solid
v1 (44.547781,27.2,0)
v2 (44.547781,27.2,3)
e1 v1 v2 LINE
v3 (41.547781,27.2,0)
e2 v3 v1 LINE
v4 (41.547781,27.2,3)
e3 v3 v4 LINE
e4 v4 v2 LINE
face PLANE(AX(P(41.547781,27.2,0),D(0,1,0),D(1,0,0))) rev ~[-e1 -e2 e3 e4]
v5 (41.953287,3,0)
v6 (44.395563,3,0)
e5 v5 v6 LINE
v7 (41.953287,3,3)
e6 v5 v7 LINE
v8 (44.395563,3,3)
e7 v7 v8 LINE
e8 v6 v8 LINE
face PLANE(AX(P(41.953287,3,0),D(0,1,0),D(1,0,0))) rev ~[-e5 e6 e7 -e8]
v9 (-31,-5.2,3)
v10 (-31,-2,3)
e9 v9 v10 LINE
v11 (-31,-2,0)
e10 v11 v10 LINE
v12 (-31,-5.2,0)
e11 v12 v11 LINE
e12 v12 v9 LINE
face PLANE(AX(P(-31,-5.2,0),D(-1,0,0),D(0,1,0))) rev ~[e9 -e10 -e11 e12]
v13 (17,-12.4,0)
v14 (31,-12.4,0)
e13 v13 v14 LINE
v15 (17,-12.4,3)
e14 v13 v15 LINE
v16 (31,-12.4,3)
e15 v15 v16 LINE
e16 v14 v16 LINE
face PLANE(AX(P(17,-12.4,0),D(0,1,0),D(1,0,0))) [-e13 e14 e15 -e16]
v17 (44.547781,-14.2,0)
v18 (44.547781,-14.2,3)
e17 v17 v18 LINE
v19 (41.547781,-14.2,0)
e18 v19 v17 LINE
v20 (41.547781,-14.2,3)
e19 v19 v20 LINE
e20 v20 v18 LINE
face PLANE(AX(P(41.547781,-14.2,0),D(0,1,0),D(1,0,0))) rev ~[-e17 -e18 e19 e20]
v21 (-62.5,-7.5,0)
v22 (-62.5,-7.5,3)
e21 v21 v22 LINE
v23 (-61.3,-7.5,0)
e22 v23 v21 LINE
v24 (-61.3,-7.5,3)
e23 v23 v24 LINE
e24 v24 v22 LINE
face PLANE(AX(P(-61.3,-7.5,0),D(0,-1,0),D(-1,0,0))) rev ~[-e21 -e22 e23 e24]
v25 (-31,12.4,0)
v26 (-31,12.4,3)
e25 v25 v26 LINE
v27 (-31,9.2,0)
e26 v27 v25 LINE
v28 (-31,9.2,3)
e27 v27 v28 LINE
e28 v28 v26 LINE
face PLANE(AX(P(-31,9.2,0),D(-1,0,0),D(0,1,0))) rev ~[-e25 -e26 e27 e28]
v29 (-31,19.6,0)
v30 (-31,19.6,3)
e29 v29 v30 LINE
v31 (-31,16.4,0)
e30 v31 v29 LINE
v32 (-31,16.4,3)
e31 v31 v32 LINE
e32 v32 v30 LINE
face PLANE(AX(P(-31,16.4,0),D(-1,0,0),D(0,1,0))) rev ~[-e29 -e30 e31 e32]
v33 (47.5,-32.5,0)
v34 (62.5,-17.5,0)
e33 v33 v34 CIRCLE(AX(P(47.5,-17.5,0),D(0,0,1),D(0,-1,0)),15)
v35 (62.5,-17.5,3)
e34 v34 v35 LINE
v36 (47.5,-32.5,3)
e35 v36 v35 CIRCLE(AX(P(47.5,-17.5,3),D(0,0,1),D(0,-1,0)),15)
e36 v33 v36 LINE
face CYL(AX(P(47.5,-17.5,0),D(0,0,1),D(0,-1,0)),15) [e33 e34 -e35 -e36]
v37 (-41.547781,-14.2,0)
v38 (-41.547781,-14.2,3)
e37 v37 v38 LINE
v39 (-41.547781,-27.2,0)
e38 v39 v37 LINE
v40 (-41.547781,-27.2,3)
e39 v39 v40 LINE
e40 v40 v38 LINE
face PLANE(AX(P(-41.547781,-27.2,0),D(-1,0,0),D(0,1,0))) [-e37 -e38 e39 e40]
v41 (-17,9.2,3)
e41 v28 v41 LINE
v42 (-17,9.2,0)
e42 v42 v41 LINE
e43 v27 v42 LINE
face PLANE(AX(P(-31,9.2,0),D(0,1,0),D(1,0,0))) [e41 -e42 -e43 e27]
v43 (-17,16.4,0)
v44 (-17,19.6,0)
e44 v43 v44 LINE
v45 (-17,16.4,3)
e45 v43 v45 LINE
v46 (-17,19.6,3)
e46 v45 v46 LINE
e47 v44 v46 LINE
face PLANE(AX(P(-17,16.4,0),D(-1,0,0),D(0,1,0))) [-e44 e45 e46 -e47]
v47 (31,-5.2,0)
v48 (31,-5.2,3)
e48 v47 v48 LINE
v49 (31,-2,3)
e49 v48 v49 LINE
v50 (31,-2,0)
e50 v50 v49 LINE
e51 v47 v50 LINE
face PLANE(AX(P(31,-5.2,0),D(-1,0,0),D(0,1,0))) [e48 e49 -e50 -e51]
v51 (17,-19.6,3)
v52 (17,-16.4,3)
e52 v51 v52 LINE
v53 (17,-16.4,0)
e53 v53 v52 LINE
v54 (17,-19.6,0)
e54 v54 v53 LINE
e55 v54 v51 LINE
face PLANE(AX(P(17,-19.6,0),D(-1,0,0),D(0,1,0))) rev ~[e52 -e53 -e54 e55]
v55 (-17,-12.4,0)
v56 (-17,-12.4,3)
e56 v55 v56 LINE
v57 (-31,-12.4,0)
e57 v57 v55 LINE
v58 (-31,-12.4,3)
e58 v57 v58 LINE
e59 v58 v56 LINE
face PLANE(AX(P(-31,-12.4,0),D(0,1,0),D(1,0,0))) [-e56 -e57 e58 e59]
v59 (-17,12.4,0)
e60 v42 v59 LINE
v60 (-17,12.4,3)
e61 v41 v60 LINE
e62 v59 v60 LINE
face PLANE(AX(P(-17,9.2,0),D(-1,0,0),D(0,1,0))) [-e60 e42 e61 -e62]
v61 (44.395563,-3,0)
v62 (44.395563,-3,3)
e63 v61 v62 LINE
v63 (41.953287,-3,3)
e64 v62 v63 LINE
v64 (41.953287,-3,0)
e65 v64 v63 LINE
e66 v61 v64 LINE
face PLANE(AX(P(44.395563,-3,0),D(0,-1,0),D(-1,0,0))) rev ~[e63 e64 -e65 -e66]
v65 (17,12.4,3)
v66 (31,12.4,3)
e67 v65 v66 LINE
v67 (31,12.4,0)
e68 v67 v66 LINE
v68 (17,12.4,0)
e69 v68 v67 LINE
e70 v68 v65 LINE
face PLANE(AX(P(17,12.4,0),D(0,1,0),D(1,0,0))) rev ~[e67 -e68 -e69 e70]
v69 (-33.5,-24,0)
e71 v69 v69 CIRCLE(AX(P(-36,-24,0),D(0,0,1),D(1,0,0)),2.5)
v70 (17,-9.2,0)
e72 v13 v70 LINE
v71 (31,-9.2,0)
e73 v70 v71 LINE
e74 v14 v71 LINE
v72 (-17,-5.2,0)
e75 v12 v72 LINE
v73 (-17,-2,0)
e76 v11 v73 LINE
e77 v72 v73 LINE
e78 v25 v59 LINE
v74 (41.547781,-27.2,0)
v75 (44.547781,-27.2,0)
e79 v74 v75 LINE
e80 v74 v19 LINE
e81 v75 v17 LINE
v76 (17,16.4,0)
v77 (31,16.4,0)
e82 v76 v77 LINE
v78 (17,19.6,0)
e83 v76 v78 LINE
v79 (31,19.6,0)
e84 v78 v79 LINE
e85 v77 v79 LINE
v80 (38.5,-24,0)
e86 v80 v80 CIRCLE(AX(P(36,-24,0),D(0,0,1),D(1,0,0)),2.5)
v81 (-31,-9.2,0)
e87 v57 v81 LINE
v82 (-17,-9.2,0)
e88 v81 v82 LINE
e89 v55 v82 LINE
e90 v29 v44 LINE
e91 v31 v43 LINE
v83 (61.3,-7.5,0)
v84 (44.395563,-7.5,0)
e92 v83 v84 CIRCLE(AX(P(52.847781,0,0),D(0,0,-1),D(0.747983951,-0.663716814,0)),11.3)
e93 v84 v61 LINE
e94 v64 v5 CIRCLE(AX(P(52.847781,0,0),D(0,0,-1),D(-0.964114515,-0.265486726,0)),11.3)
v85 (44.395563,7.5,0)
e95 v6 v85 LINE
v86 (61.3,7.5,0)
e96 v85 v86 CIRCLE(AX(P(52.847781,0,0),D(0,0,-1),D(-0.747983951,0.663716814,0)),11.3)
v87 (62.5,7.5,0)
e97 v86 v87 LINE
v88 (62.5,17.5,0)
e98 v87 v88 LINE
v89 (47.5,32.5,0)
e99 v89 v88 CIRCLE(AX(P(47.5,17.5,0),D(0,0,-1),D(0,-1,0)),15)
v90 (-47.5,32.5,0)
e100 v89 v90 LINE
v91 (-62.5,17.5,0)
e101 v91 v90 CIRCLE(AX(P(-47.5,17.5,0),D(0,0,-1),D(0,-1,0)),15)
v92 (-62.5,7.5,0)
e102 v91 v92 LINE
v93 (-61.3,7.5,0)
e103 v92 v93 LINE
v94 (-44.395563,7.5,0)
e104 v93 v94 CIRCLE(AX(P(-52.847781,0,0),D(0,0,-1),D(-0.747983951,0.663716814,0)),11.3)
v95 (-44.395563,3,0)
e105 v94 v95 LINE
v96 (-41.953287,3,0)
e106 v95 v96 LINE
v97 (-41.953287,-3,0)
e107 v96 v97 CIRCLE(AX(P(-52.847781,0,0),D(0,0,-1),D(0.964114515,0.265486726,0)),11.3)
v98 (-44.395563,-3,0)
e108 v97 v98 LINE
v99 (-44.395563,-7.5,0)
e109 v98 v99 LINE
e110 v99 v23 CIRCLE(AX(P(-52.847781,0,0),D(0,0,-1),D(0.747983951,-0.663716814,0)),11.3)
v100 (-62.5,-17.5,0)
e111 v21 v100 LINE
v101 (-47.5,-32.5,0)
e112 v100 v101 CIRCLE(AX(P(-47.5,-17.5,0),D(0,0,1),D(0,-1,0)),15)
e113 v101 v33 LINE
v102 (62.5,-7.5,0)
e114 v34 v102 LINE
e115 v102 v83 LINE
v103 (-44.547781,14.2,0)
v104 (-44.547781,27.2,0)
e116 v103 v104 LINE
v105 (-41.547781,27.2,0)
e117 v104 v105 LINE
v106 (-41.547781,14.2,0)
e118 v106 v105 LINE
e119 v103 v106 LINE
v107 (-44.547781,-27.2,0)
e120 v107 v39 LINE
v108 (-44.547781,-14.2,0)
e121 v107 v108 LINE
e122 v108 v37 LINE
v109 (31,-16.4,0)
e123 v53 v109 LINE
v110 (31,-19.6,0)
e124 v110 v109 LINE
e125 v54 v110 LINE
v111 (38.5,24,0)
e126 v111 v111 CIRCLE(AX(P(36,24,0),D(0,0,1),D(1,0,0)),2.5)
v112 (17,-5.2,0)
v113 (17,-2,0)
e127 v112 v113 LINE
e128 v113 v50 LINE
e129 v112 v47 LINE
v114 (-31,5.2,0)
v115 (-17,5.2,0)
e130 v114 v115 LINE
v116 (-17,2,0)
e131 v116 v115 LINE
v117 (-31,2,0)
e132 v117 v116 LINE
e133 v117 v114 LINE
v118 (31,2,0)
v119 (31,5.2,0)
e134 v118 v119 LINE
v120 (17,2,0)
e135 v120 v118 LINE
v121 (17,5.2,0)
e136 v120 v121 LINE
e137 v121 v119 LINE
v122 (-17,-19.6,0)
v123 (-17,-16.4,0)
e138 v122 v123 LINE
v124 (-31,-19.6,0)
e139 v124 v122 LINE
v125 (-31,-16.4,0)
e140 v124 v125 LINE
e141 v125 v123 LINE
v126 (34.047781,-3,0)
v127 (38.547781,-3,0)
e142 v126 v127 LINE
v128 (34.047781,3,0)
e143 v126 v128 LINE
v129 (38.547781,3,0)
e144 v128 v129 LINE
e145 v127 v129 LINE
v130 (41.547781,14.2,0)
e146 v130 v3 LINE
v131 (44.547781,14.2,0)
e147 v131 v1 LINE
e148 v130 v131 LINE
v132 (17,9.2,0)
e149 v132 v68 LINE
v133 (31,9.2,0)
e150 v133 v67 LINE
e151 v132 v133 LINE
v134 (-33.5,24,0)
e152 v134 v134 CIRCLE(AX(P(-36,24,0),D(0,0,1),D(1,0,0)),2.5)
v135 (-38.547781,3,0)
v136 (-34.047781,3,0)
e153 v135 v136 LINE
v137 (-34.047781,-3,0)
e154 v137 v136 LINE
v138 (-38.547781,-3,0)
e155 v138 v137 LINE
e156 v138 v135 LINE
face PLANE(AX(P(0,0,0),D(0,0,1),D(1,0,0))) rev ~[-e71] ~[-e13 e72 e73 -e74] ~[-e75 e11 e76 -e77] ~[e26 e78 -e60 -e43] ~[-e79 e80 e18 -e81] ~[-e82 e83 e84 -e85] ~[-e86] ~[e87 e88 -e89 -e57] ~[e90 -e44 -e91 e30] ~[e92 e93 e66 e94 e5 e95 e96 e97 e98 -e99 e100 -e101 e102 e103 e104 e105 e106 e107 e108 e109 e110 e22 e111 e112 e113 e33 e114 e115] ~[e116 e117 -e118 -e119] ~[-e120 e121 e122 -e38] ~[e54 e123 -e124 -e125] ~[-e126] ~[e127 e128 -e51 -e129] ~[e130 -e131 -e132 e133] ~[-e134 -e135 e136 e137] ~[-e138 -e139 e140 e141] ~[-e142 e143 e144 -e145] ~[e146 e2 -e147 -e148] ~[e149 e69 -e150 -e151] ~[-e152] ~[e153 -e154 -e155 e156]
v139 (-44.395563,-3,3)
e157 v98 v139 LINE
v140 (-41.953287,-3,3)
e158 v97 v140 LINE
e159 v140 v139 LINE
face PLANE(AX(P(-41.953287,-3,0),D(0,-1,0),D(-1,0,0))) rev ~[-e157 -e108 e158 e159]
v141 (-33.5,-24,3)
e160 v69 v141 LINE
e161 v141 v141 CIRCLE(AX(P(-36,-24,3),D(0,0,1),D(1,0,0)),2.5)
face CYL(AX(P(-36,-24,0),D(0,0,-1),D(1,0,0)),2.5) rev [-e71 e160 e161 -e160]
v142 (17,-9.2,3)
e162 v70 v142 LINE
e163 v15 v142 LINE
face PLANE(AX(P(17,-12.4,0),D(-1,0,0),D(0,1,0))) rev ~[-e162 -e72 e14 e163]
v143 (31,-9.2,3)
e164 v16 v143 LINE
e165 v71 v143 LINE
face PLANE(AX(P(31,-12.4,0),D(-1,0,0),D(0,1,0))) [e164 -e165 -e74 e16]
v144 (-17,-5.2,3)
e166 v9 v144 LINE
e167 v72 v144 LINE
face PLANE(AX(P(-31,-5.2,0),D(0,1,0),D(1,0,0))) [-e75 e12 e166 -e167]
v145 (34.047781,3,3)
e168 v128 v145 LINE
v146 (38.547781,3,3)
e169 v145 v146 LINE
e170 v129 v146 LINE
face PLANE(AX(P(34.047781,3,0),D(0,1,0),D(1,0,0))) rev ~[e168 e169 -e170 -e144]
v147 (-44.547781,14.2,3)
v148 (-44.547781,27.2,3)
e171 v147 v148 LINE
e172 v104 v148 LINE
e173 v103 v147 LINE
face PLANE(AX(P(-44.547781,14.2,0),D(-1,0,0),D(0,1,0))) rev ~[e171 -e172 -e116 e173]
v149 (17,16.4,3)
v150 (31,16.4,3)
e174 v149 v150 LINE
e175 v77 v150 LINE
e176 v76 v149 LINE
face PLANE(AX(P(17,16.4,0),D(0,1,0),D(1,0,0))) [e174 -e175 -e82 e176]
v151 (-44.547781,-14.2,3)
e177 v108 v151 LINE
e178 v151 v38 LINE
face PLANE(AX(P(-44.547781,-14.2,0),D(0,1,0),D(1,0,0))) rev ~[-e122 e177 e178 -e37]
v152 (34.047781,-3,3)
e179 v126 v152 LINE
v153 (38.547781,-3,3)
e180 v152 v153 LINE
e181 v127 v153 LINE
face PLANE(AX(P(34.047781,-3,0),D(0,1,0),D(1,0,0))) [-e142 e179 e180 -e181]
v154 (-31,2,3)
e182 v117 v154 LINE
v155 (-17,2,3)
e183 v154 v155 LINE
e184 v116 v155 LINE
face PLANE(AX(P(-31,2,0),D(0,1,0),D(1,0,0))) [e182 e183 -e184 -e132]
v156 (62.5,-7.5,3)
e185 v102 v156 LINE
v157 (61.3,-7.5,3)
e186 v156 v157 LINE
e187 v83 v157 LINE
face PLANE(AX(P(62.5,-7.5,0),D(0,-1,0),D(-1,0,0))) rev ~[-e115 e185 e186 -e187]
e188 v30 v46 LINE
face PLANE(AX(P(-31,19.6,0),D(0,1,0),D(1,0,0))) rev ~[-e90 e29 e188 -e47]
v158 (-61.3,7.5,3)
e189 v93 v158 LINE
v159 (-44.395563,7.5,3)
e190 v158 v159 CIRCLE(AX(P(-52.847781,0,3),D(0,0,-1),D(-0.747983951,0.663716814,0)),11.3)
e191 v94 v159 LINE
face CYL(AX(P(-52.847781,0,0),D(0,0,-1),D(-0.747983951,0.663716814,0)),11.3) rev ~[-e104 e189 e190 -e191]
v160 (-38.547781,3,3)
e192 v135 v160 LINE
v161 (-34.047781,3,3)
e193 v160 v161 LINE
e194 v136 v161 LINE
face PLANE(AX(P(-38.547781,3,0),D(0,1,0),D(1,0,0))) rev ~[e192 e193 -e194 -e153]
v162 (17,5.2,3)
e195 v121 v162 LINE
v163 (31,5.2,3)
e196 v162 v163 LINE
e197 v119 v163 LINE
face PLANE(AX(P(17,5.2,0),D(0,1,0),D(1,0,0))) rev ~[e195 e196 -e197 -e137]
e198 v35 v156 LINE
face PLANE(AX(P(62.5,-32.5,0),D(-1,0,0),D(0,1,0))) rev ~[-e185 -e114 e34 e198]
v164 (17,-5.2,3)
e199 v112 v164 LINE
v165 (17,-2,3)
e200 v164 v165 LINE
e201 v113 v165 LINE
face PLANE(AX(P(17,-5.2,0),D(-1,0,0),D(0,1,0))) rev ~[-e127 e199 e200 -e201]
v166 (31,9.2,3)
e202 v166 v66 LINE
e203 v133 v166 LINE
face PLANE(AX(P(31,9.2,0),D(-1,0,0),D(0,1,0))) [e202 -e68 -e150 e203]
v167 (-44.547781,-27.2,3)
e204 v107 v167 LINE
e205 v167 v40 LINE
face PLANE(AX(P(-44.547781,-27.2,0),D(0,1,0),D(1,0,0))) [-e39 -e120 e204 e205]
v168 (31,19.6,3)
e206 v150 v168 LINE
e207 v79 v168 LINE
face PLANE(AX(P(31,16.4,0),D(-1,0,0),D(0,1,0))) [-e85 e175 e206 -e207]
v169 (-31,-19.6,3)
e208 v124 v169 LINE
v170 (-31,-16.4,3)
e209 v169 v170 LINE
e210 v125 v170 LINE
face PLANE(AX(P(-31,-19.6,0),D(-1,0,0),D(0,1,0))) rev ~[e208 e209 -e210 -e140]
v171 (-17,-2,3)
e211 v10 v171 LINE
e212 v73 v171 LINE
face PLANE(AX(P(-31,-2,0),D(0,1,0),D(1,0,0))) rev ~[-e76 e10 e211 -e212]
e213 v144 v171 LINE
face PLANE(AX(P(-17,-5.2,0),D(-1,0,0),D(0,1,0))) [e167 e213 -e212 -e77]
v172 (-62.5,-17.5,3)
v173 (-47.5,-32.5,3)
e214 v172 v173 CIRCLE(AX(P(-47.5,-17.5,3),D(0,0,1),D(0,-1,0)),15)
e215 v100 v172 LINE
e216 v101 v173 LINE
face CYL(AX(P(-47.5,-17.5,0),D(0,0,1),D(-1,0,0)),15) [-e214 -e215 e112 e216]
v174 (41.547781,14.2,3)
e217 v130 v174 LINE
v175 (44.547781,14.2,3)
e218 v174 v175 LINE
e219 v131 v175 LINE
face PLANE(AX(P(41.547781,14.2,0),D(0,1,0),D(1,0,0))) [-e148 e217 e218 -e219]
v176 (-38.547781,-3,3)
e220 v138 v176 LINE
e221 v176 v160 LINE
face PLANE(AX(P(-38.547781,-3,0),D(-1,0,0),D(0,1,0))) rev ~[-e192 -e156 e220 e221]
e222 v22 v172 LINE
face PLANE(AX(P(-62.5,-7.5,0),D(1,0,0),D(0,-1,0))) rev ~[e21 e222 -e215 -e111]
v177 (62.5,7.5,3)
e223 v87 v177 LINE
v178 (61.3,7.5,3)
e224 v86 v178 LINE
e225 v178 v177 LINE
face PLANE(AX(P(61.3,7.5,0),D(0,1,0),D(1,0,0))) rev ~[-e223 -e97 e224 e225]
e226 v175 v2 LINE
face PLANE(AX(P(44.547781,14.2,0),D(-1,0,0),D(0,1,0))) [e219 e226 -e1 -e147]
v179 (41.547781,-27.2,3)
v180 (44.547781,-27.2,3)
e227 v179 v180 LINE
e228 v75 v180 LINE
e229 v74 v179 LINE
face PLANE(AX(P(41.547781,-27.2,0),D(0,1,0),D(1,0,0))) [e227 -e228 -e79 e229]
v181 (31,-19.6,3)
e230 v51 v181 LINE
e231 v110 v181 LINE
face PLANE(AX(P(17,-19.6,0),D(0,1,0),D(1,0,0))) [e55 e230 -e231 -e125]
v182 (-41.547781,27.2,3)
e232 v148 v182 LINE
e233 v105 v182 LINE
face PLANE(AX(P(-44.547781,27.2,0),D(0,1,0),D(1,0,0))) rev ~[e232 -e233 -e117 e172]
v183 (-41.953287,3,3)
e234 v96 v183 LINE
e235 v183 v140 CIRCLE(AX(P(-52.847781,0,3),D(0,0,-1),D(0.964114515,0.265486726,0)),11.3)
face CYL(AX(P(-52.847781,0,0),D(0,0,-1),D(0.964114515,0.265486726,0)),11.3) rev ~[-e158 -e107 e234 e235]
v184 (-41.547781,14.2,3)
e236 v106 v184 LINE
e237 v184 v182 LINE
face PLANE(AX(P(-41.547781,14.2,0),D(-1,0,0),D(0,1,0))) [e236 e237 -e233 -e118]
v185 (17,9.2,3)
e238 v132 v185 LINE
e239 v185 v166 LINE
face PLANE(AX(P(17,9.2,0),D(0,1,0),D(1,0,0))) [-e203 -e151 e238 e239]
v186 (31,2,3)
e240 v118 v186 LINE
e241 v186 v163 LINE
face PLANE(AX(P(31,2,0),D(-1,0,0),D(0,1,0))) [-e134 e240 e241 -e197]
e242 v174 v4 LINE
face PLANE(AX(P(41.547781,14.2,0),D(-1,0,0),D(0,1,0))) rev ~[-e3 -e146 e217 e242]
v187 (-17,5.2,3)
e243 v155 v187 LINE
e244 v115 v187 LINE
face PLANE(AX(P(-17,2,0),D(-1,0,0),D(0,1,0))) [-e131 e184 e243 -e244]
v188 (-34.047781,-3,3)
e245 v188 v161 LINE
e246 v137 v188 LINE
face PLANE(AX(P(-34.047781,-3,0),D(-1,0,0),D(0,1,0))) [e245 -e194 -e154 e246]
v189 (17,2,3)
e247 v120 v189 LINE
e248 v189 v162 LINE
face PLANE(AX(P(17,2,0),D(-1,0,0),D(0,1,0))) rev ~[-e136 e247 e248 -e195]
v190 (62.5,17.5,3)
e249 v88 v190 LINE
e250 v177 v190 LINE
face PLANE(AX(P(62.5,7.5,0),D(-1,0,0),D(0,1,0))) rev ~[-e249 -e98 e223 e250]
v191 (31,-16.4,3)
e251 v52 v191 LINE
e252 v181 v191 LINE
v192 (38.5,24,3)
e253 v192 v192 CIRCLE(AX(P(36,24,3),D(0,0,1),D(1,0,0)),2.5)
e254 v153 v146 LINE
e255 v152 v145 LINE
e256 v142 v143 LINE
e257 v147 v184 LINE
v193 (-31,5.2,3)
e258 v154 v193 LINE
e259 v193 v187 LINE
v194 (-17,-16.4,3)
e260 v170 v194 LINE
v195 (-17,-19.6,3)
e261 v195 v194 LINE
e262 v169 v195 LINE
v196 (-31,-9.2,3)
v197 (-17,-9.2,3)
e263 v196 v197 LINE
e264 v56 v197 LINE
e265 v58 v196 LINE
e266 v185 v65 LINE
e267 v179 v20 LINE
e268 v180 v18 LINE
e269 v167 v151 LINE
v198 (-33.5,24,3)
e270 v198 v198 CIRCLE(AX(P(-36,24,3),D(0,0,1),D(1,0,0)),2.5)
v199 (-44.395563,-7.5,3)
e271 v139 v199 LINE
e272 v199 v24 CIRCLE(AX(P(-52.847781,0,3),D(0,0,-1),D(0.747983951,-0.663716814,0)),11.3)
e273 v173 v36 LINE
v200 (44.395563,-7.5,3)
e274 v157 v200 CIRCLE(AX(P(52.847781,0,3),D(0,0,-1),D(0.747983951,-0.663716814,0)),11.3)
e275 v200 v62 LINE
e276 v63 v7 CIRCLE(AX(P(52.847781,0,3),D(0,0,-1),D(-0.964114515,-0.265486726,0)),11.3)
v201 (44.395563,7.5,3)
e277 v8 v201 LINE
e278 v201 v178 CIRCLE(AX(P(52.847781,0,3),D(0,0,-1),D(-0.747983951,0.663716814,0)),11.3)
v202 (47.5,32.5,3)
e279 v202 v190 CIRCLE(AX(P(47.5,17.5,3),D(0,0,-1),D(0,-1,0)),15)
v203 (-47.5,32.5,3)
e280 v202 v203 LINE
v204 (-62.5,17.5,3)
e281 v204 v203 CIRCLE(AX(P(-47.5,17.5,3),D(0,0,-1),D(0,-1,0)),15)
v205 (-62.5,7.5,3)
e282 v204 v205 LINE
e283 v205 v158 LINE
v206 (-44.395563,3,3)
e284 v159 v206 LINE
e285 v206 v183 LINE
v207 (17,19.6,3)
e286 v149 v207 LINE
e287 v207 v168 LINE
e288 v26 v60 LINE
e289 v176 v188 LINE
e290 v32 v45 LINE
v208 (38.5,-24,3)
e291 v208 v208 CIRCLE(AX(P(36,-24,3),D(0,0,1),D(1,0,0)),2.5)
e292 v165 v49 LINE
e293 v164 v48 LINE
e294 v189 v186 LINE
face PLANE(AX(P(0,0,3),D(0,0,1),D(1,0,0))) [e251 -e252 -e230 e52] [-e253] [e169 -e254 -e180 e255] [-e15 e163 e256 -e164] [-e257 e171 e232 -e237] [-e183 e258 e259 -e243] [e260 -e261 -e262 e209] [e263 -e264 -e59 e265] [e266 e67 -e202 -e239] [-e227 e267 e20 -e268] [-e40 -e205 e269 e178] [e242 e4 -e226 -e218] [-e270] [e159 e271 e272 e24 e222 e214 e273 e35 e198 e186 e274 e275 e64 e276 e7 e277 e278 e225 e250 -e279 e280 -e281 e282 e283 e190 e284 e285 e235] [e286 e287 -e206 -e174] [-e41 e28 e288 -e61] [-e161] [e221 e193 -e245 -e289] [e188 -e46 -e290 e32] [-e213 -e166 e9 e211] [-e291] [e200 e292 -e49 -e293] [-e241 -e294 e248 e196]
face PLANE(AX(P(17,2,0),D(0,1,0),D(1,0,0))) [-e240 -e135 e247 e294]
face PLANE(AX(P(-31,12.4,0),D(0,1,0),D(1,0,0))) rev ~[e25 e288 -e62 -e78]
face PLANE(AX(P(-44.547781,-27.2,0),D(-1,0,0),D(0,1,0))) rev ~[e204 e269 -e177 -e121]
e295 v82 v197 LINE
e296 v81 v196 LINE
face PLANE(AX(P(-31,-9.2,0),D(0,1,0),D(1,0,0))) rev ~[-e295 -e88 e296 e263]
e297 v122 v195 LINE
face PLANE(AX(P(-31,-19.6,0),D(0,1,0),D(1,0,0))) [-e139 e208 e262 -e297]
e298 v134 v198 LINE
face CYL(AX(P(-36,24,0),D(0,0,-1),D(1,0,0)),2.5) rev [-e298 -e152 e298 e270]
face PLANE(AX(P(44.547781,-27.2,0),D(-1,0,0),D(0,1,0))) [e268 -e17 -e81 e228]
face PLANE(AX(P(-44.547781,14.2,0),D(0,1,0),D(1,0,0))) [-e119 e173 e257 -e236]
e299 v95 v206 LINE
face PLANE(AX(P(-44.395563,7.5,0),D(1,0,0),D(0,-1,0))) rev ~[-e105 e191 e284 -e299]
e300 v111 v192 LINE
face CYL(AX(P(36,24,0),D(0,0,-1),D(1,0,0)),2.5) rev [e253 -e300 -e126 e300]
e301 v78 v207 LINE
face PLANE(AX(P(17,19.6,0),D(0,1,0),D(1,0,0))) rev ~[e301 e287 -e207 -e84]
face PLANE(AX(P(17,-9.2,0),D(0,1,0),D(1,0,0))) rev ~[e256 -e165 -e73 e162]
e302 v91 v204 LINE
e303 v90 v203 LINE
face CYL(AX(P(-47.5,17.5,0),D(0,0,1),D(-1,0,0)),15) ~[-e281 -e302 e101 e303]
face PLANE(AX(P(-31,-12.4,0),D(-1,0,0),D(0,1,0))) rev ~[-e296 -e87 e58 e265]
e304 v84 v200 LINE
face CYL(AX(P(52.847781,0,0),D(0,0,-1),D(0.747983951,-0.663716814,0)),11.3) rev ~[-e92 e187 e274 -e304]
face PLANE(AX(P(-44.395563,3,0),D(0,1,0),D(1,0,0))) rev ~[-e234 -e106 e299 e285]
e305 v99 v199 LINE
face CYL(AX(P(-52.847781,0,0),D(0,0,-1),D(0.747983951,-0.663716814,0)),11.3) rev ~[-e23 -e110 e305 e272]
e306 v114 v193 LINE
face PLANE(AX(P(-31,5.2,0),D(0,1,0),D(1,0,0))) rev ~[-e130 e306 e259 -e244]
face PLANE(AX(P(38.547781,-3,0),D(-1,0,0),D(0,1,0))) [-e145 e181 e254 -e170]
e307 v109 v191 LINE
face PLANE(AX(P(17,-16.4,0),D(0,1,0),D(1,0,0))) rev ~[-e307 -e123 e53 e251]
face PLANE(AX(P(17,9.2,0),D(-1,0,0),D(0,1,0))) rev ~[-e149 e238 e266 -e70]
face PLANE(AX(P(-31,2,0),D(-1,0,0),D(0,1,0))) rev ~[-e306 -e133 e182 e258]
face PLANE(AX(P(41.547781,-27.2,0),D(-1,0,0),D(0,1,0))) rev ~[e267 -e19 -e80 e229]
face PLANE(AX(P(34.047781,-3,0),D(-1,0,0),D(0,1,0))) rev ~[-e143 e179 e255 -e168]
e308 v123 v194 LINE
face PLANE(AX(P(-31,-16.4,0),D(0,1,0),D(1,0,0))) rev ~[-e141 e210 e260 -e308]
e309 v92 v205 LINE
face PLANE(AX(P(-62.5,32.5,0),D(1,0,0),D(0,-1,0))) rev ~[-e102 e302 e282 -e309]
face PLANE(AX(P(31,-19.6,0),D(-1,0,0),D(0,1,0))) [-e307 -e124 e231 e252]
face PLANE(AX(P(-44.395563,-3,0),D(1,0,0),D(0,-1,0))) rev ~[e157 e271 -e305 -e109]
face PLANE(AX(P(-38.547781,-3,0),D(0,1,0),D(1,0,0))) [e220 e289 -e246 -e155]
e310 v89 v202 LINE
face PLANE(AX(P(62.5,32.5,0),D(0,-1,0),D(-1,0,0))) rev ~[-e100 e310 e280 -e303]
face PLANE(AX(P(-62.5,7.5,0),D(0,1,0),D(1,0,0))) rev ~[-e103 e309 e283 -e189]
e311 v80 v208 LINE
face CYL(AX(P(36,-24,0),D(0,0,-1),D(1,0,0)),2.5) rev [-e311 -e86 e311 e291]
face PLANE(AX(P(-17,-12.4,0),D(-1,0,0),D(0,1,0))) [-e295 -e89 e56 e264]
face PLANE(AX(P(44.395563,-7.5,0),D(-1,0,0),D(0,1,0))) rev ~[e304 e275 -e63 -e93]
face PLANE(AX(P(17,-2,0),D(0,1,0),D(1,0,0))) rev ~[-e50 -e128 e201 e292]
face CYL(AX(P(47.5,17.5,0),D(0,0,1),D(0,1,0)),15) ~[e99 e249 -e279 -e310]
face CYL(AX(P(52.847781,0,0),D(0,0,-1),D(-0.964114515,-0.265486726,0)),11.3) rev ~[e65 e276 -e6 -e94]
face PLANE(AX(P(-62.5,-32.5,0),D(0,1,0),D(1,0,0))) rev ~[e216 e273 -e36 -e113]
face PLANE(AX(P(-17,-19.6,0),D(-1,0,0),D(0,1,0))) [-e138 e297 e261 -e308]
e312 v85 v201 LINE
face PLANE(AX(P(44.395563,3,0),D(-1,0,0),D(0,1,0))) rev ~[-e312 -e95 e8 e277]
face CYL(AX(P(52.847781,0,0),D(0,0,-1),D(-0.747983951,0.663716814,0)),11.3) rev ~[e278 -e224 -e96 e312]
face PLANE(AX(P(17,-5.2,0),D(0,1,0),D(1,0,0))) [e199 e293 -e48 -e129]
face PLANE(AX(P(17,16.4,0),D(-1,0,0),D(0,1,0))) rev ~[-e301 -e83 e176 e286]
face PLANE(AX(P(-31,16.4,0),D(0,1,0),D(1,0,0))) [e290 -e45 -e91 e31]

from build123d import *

# Parameters (mm, degrees)
SKICA2_R                = 2.5
SKICA2_W                = 4.5
SKICA2_H                = 6
SKICA2_W_2              = 3
SKICA2_H_2              = 13
SKICA2_W_3              = 14
SKICA2_H_3              = 3.2
P_IDAT_VYSUNUT_M1_DEPTH = 3
ZAOBLIT1_R              = 15


with BuildPart() as part:
    # Skica2 → Přidat vysunutím1 (new body)
    with BuildSketch(Plane.XY):
        with BuildLine():
            Line((-62.5, 7.5), (-61.3, 7.5))
            ThreePointArc((-61.3, 7.5), (-52.847781356, 11.3), (-44.395562713, 7.5))
            Line((-44.395562713, 7.5), (-44.395562713, 3))
            Line((-44.395562713, 3), (-41.953287334, 3))
            ThreePointArc((-41.953287334, 3), (-41.547781356, 0), (-41.953287334, -3))
            Line((-41.953287334, -3), (-44.395562713, -3))
            Line((-44.395562713, -3), (-44.395562713, -7.5))
            ThreePointArc((-44.395562713, -7.5), (-52.847781356, -11.3), (-61.3, -7.5))
            Line((-61.3, -7.5), (-62.5, -7.5))
            Line((-62.5, -7.5), (-62.5, -32.5))
            Line((-62.5, -32.5), (62.5, -32.5))
            Line((62.5, -32.5), (62.5, -7.5))
            Line((62.5, -7.5), (61.3, -7.5))
            ThreePointArc((61.3, -7.5), (52.847781356, -11.3), (44.395562713, -7.5))
            Line((44.395562713, -7.5), (44.395562713, -3))
            Line((44.395562713, -3), (41.953287334, -3))
            ThreePointArc((41.953287334, -3), (41.547781356, 0), (41.953287334, 3))
            Line((41.953287334, 3), (44.395562713, 3))
            Line((44.395562713, 3), (44.395562713, 7.5))
            ThreePointArc((44.395562713, 7.5), (52.847781356, 11.3), (61.3, 7.5))
            Line((61.3, 7.5), (62.5, 7.5))
            Line((62.5, 7.5), (62.5, 32.5))
            Line((62.5, 32.5), (-62.5, 32.5))
            Line((-62.5, 32.5), (-62.5, 7.5))
        make_face()
        with Locations((-36, 24)):
            Circle(SKICA2_R, mode=Mode.SUBTRACT)
        with Locations((36, 24)):
            Circle(SKICA2_R, mode=Mode.SUBTRACT)
        with Locations((-36, -24)):
            Circle(SKICA2_R, mode=Mode.SUBTRACT)
        with Locations((36, -24)):
            Circle(SKICA2_R, mode=Mode.SUBTRACT)
        with Locations((-36.297781356, 0)):
            Rectangle(SKICA2_W, SKICA2_H, mode=Mode.SUBTRACT)
        with Locations((-43.047781356, -20.7)):
            Rectangle(SKICA2_W_2, SKICA2_H_2, mode=Mode.SUBTRACT)
        with Locations((-43.047781356, 20.7)):
            Rectangle(SKICA2_W_2, SKICA2_H_2, mode=Mode.SUBTRACT)
        with Locations((43.047781356, -20.7)):
            Rectangle(SKICA2_W_2, SKICA2_H_2, mode=Mode.SUBTRACT)
        with Locations((43.047781356, 20.7)):
            Rectangle(SKICA2_W_2, SKICA2_H_2, mode=Mode.SUBTRACT)
        with Locations((36.297781356, 0)):
            Rectangle(SKICA2_W, SKICA2_H, mode=Mode.SUBTRACT)
        with Locations((-24, 18)):
            Rectangle(SKICA2_W_3, SKICA2_H_3, mode=Mode.SUBTRACT)
        with Locations((-24, 10.8)):
            Rectangle(SKICA2_W_3, SKICA2_H_3, mode=Mode.SUBTRACT)
        with Locations((-24, 3.6)):
            Rectangle(SKICA2_W_3, SKICA2_H_3, mode=Mode.SUBTRACT)
        with Locations((-24, -3.6)):
            Rectangle(SKICA2_W_3, SKICA2_H_3, mode=Mode.SUBTRACT)
        with Locations((-24, -10.8)):
            Rectangle(SKICA2_W_3, SKICA2_H_3, mode=Mode.SUBTRACT)
        with Locations((-24, -18)):
            Rectangle(SKICA2_W_3, SKICA2_H_3, mode=Mode.SUBTRACT)
        with Locations((24, -18)):
            Rectangle(SKICA2_W_3, SKICA2_H_3, mode=Mode.SUBTRACT)
        with Locations((24, -10.8)):
            Rectangle(SKICA2_W_3, SKICA2_H_3, mode=Mode.SUBTRACT)
        with Locations((24, -3.6)):
            Rectangle(SKICA2_W_3, SKICA2_H_3, mode=Mode.SUBTRACT)
        with Locations((24, 3.6)):
            Rectangle(SKICA2_W_3, SKICA2_H_3, mode=Mode.SUBTRACT)
        with Locations((24, 10.8)):
            Rectangle(SKICA2_W_3, SKICA2_H_3, mode=Mode.SUBTRACT)
        with Locations((24, 18)):
            Rectangle(SKICA2_W_3, SKICA2_H_3, mode=Mode.SUBTRACT)
    extrude(amount=P_IDAT_VYSUNUT_M1_DEPTH)

    # Zaoblit1
    zaoblit1_edges = [part.edges().sort_by_distance(p)[0] for p in [
        (-62.5, 32.5, 1.5),
        (62.5, 32.5, 1.5),
        (62.5, -32.5, 1.5),
        (-62.5, -32.5, 1.5),
    ]]
    fillet(zaoblit1_edges, radius=ZAOBLIT1_R)


solid = part.part
